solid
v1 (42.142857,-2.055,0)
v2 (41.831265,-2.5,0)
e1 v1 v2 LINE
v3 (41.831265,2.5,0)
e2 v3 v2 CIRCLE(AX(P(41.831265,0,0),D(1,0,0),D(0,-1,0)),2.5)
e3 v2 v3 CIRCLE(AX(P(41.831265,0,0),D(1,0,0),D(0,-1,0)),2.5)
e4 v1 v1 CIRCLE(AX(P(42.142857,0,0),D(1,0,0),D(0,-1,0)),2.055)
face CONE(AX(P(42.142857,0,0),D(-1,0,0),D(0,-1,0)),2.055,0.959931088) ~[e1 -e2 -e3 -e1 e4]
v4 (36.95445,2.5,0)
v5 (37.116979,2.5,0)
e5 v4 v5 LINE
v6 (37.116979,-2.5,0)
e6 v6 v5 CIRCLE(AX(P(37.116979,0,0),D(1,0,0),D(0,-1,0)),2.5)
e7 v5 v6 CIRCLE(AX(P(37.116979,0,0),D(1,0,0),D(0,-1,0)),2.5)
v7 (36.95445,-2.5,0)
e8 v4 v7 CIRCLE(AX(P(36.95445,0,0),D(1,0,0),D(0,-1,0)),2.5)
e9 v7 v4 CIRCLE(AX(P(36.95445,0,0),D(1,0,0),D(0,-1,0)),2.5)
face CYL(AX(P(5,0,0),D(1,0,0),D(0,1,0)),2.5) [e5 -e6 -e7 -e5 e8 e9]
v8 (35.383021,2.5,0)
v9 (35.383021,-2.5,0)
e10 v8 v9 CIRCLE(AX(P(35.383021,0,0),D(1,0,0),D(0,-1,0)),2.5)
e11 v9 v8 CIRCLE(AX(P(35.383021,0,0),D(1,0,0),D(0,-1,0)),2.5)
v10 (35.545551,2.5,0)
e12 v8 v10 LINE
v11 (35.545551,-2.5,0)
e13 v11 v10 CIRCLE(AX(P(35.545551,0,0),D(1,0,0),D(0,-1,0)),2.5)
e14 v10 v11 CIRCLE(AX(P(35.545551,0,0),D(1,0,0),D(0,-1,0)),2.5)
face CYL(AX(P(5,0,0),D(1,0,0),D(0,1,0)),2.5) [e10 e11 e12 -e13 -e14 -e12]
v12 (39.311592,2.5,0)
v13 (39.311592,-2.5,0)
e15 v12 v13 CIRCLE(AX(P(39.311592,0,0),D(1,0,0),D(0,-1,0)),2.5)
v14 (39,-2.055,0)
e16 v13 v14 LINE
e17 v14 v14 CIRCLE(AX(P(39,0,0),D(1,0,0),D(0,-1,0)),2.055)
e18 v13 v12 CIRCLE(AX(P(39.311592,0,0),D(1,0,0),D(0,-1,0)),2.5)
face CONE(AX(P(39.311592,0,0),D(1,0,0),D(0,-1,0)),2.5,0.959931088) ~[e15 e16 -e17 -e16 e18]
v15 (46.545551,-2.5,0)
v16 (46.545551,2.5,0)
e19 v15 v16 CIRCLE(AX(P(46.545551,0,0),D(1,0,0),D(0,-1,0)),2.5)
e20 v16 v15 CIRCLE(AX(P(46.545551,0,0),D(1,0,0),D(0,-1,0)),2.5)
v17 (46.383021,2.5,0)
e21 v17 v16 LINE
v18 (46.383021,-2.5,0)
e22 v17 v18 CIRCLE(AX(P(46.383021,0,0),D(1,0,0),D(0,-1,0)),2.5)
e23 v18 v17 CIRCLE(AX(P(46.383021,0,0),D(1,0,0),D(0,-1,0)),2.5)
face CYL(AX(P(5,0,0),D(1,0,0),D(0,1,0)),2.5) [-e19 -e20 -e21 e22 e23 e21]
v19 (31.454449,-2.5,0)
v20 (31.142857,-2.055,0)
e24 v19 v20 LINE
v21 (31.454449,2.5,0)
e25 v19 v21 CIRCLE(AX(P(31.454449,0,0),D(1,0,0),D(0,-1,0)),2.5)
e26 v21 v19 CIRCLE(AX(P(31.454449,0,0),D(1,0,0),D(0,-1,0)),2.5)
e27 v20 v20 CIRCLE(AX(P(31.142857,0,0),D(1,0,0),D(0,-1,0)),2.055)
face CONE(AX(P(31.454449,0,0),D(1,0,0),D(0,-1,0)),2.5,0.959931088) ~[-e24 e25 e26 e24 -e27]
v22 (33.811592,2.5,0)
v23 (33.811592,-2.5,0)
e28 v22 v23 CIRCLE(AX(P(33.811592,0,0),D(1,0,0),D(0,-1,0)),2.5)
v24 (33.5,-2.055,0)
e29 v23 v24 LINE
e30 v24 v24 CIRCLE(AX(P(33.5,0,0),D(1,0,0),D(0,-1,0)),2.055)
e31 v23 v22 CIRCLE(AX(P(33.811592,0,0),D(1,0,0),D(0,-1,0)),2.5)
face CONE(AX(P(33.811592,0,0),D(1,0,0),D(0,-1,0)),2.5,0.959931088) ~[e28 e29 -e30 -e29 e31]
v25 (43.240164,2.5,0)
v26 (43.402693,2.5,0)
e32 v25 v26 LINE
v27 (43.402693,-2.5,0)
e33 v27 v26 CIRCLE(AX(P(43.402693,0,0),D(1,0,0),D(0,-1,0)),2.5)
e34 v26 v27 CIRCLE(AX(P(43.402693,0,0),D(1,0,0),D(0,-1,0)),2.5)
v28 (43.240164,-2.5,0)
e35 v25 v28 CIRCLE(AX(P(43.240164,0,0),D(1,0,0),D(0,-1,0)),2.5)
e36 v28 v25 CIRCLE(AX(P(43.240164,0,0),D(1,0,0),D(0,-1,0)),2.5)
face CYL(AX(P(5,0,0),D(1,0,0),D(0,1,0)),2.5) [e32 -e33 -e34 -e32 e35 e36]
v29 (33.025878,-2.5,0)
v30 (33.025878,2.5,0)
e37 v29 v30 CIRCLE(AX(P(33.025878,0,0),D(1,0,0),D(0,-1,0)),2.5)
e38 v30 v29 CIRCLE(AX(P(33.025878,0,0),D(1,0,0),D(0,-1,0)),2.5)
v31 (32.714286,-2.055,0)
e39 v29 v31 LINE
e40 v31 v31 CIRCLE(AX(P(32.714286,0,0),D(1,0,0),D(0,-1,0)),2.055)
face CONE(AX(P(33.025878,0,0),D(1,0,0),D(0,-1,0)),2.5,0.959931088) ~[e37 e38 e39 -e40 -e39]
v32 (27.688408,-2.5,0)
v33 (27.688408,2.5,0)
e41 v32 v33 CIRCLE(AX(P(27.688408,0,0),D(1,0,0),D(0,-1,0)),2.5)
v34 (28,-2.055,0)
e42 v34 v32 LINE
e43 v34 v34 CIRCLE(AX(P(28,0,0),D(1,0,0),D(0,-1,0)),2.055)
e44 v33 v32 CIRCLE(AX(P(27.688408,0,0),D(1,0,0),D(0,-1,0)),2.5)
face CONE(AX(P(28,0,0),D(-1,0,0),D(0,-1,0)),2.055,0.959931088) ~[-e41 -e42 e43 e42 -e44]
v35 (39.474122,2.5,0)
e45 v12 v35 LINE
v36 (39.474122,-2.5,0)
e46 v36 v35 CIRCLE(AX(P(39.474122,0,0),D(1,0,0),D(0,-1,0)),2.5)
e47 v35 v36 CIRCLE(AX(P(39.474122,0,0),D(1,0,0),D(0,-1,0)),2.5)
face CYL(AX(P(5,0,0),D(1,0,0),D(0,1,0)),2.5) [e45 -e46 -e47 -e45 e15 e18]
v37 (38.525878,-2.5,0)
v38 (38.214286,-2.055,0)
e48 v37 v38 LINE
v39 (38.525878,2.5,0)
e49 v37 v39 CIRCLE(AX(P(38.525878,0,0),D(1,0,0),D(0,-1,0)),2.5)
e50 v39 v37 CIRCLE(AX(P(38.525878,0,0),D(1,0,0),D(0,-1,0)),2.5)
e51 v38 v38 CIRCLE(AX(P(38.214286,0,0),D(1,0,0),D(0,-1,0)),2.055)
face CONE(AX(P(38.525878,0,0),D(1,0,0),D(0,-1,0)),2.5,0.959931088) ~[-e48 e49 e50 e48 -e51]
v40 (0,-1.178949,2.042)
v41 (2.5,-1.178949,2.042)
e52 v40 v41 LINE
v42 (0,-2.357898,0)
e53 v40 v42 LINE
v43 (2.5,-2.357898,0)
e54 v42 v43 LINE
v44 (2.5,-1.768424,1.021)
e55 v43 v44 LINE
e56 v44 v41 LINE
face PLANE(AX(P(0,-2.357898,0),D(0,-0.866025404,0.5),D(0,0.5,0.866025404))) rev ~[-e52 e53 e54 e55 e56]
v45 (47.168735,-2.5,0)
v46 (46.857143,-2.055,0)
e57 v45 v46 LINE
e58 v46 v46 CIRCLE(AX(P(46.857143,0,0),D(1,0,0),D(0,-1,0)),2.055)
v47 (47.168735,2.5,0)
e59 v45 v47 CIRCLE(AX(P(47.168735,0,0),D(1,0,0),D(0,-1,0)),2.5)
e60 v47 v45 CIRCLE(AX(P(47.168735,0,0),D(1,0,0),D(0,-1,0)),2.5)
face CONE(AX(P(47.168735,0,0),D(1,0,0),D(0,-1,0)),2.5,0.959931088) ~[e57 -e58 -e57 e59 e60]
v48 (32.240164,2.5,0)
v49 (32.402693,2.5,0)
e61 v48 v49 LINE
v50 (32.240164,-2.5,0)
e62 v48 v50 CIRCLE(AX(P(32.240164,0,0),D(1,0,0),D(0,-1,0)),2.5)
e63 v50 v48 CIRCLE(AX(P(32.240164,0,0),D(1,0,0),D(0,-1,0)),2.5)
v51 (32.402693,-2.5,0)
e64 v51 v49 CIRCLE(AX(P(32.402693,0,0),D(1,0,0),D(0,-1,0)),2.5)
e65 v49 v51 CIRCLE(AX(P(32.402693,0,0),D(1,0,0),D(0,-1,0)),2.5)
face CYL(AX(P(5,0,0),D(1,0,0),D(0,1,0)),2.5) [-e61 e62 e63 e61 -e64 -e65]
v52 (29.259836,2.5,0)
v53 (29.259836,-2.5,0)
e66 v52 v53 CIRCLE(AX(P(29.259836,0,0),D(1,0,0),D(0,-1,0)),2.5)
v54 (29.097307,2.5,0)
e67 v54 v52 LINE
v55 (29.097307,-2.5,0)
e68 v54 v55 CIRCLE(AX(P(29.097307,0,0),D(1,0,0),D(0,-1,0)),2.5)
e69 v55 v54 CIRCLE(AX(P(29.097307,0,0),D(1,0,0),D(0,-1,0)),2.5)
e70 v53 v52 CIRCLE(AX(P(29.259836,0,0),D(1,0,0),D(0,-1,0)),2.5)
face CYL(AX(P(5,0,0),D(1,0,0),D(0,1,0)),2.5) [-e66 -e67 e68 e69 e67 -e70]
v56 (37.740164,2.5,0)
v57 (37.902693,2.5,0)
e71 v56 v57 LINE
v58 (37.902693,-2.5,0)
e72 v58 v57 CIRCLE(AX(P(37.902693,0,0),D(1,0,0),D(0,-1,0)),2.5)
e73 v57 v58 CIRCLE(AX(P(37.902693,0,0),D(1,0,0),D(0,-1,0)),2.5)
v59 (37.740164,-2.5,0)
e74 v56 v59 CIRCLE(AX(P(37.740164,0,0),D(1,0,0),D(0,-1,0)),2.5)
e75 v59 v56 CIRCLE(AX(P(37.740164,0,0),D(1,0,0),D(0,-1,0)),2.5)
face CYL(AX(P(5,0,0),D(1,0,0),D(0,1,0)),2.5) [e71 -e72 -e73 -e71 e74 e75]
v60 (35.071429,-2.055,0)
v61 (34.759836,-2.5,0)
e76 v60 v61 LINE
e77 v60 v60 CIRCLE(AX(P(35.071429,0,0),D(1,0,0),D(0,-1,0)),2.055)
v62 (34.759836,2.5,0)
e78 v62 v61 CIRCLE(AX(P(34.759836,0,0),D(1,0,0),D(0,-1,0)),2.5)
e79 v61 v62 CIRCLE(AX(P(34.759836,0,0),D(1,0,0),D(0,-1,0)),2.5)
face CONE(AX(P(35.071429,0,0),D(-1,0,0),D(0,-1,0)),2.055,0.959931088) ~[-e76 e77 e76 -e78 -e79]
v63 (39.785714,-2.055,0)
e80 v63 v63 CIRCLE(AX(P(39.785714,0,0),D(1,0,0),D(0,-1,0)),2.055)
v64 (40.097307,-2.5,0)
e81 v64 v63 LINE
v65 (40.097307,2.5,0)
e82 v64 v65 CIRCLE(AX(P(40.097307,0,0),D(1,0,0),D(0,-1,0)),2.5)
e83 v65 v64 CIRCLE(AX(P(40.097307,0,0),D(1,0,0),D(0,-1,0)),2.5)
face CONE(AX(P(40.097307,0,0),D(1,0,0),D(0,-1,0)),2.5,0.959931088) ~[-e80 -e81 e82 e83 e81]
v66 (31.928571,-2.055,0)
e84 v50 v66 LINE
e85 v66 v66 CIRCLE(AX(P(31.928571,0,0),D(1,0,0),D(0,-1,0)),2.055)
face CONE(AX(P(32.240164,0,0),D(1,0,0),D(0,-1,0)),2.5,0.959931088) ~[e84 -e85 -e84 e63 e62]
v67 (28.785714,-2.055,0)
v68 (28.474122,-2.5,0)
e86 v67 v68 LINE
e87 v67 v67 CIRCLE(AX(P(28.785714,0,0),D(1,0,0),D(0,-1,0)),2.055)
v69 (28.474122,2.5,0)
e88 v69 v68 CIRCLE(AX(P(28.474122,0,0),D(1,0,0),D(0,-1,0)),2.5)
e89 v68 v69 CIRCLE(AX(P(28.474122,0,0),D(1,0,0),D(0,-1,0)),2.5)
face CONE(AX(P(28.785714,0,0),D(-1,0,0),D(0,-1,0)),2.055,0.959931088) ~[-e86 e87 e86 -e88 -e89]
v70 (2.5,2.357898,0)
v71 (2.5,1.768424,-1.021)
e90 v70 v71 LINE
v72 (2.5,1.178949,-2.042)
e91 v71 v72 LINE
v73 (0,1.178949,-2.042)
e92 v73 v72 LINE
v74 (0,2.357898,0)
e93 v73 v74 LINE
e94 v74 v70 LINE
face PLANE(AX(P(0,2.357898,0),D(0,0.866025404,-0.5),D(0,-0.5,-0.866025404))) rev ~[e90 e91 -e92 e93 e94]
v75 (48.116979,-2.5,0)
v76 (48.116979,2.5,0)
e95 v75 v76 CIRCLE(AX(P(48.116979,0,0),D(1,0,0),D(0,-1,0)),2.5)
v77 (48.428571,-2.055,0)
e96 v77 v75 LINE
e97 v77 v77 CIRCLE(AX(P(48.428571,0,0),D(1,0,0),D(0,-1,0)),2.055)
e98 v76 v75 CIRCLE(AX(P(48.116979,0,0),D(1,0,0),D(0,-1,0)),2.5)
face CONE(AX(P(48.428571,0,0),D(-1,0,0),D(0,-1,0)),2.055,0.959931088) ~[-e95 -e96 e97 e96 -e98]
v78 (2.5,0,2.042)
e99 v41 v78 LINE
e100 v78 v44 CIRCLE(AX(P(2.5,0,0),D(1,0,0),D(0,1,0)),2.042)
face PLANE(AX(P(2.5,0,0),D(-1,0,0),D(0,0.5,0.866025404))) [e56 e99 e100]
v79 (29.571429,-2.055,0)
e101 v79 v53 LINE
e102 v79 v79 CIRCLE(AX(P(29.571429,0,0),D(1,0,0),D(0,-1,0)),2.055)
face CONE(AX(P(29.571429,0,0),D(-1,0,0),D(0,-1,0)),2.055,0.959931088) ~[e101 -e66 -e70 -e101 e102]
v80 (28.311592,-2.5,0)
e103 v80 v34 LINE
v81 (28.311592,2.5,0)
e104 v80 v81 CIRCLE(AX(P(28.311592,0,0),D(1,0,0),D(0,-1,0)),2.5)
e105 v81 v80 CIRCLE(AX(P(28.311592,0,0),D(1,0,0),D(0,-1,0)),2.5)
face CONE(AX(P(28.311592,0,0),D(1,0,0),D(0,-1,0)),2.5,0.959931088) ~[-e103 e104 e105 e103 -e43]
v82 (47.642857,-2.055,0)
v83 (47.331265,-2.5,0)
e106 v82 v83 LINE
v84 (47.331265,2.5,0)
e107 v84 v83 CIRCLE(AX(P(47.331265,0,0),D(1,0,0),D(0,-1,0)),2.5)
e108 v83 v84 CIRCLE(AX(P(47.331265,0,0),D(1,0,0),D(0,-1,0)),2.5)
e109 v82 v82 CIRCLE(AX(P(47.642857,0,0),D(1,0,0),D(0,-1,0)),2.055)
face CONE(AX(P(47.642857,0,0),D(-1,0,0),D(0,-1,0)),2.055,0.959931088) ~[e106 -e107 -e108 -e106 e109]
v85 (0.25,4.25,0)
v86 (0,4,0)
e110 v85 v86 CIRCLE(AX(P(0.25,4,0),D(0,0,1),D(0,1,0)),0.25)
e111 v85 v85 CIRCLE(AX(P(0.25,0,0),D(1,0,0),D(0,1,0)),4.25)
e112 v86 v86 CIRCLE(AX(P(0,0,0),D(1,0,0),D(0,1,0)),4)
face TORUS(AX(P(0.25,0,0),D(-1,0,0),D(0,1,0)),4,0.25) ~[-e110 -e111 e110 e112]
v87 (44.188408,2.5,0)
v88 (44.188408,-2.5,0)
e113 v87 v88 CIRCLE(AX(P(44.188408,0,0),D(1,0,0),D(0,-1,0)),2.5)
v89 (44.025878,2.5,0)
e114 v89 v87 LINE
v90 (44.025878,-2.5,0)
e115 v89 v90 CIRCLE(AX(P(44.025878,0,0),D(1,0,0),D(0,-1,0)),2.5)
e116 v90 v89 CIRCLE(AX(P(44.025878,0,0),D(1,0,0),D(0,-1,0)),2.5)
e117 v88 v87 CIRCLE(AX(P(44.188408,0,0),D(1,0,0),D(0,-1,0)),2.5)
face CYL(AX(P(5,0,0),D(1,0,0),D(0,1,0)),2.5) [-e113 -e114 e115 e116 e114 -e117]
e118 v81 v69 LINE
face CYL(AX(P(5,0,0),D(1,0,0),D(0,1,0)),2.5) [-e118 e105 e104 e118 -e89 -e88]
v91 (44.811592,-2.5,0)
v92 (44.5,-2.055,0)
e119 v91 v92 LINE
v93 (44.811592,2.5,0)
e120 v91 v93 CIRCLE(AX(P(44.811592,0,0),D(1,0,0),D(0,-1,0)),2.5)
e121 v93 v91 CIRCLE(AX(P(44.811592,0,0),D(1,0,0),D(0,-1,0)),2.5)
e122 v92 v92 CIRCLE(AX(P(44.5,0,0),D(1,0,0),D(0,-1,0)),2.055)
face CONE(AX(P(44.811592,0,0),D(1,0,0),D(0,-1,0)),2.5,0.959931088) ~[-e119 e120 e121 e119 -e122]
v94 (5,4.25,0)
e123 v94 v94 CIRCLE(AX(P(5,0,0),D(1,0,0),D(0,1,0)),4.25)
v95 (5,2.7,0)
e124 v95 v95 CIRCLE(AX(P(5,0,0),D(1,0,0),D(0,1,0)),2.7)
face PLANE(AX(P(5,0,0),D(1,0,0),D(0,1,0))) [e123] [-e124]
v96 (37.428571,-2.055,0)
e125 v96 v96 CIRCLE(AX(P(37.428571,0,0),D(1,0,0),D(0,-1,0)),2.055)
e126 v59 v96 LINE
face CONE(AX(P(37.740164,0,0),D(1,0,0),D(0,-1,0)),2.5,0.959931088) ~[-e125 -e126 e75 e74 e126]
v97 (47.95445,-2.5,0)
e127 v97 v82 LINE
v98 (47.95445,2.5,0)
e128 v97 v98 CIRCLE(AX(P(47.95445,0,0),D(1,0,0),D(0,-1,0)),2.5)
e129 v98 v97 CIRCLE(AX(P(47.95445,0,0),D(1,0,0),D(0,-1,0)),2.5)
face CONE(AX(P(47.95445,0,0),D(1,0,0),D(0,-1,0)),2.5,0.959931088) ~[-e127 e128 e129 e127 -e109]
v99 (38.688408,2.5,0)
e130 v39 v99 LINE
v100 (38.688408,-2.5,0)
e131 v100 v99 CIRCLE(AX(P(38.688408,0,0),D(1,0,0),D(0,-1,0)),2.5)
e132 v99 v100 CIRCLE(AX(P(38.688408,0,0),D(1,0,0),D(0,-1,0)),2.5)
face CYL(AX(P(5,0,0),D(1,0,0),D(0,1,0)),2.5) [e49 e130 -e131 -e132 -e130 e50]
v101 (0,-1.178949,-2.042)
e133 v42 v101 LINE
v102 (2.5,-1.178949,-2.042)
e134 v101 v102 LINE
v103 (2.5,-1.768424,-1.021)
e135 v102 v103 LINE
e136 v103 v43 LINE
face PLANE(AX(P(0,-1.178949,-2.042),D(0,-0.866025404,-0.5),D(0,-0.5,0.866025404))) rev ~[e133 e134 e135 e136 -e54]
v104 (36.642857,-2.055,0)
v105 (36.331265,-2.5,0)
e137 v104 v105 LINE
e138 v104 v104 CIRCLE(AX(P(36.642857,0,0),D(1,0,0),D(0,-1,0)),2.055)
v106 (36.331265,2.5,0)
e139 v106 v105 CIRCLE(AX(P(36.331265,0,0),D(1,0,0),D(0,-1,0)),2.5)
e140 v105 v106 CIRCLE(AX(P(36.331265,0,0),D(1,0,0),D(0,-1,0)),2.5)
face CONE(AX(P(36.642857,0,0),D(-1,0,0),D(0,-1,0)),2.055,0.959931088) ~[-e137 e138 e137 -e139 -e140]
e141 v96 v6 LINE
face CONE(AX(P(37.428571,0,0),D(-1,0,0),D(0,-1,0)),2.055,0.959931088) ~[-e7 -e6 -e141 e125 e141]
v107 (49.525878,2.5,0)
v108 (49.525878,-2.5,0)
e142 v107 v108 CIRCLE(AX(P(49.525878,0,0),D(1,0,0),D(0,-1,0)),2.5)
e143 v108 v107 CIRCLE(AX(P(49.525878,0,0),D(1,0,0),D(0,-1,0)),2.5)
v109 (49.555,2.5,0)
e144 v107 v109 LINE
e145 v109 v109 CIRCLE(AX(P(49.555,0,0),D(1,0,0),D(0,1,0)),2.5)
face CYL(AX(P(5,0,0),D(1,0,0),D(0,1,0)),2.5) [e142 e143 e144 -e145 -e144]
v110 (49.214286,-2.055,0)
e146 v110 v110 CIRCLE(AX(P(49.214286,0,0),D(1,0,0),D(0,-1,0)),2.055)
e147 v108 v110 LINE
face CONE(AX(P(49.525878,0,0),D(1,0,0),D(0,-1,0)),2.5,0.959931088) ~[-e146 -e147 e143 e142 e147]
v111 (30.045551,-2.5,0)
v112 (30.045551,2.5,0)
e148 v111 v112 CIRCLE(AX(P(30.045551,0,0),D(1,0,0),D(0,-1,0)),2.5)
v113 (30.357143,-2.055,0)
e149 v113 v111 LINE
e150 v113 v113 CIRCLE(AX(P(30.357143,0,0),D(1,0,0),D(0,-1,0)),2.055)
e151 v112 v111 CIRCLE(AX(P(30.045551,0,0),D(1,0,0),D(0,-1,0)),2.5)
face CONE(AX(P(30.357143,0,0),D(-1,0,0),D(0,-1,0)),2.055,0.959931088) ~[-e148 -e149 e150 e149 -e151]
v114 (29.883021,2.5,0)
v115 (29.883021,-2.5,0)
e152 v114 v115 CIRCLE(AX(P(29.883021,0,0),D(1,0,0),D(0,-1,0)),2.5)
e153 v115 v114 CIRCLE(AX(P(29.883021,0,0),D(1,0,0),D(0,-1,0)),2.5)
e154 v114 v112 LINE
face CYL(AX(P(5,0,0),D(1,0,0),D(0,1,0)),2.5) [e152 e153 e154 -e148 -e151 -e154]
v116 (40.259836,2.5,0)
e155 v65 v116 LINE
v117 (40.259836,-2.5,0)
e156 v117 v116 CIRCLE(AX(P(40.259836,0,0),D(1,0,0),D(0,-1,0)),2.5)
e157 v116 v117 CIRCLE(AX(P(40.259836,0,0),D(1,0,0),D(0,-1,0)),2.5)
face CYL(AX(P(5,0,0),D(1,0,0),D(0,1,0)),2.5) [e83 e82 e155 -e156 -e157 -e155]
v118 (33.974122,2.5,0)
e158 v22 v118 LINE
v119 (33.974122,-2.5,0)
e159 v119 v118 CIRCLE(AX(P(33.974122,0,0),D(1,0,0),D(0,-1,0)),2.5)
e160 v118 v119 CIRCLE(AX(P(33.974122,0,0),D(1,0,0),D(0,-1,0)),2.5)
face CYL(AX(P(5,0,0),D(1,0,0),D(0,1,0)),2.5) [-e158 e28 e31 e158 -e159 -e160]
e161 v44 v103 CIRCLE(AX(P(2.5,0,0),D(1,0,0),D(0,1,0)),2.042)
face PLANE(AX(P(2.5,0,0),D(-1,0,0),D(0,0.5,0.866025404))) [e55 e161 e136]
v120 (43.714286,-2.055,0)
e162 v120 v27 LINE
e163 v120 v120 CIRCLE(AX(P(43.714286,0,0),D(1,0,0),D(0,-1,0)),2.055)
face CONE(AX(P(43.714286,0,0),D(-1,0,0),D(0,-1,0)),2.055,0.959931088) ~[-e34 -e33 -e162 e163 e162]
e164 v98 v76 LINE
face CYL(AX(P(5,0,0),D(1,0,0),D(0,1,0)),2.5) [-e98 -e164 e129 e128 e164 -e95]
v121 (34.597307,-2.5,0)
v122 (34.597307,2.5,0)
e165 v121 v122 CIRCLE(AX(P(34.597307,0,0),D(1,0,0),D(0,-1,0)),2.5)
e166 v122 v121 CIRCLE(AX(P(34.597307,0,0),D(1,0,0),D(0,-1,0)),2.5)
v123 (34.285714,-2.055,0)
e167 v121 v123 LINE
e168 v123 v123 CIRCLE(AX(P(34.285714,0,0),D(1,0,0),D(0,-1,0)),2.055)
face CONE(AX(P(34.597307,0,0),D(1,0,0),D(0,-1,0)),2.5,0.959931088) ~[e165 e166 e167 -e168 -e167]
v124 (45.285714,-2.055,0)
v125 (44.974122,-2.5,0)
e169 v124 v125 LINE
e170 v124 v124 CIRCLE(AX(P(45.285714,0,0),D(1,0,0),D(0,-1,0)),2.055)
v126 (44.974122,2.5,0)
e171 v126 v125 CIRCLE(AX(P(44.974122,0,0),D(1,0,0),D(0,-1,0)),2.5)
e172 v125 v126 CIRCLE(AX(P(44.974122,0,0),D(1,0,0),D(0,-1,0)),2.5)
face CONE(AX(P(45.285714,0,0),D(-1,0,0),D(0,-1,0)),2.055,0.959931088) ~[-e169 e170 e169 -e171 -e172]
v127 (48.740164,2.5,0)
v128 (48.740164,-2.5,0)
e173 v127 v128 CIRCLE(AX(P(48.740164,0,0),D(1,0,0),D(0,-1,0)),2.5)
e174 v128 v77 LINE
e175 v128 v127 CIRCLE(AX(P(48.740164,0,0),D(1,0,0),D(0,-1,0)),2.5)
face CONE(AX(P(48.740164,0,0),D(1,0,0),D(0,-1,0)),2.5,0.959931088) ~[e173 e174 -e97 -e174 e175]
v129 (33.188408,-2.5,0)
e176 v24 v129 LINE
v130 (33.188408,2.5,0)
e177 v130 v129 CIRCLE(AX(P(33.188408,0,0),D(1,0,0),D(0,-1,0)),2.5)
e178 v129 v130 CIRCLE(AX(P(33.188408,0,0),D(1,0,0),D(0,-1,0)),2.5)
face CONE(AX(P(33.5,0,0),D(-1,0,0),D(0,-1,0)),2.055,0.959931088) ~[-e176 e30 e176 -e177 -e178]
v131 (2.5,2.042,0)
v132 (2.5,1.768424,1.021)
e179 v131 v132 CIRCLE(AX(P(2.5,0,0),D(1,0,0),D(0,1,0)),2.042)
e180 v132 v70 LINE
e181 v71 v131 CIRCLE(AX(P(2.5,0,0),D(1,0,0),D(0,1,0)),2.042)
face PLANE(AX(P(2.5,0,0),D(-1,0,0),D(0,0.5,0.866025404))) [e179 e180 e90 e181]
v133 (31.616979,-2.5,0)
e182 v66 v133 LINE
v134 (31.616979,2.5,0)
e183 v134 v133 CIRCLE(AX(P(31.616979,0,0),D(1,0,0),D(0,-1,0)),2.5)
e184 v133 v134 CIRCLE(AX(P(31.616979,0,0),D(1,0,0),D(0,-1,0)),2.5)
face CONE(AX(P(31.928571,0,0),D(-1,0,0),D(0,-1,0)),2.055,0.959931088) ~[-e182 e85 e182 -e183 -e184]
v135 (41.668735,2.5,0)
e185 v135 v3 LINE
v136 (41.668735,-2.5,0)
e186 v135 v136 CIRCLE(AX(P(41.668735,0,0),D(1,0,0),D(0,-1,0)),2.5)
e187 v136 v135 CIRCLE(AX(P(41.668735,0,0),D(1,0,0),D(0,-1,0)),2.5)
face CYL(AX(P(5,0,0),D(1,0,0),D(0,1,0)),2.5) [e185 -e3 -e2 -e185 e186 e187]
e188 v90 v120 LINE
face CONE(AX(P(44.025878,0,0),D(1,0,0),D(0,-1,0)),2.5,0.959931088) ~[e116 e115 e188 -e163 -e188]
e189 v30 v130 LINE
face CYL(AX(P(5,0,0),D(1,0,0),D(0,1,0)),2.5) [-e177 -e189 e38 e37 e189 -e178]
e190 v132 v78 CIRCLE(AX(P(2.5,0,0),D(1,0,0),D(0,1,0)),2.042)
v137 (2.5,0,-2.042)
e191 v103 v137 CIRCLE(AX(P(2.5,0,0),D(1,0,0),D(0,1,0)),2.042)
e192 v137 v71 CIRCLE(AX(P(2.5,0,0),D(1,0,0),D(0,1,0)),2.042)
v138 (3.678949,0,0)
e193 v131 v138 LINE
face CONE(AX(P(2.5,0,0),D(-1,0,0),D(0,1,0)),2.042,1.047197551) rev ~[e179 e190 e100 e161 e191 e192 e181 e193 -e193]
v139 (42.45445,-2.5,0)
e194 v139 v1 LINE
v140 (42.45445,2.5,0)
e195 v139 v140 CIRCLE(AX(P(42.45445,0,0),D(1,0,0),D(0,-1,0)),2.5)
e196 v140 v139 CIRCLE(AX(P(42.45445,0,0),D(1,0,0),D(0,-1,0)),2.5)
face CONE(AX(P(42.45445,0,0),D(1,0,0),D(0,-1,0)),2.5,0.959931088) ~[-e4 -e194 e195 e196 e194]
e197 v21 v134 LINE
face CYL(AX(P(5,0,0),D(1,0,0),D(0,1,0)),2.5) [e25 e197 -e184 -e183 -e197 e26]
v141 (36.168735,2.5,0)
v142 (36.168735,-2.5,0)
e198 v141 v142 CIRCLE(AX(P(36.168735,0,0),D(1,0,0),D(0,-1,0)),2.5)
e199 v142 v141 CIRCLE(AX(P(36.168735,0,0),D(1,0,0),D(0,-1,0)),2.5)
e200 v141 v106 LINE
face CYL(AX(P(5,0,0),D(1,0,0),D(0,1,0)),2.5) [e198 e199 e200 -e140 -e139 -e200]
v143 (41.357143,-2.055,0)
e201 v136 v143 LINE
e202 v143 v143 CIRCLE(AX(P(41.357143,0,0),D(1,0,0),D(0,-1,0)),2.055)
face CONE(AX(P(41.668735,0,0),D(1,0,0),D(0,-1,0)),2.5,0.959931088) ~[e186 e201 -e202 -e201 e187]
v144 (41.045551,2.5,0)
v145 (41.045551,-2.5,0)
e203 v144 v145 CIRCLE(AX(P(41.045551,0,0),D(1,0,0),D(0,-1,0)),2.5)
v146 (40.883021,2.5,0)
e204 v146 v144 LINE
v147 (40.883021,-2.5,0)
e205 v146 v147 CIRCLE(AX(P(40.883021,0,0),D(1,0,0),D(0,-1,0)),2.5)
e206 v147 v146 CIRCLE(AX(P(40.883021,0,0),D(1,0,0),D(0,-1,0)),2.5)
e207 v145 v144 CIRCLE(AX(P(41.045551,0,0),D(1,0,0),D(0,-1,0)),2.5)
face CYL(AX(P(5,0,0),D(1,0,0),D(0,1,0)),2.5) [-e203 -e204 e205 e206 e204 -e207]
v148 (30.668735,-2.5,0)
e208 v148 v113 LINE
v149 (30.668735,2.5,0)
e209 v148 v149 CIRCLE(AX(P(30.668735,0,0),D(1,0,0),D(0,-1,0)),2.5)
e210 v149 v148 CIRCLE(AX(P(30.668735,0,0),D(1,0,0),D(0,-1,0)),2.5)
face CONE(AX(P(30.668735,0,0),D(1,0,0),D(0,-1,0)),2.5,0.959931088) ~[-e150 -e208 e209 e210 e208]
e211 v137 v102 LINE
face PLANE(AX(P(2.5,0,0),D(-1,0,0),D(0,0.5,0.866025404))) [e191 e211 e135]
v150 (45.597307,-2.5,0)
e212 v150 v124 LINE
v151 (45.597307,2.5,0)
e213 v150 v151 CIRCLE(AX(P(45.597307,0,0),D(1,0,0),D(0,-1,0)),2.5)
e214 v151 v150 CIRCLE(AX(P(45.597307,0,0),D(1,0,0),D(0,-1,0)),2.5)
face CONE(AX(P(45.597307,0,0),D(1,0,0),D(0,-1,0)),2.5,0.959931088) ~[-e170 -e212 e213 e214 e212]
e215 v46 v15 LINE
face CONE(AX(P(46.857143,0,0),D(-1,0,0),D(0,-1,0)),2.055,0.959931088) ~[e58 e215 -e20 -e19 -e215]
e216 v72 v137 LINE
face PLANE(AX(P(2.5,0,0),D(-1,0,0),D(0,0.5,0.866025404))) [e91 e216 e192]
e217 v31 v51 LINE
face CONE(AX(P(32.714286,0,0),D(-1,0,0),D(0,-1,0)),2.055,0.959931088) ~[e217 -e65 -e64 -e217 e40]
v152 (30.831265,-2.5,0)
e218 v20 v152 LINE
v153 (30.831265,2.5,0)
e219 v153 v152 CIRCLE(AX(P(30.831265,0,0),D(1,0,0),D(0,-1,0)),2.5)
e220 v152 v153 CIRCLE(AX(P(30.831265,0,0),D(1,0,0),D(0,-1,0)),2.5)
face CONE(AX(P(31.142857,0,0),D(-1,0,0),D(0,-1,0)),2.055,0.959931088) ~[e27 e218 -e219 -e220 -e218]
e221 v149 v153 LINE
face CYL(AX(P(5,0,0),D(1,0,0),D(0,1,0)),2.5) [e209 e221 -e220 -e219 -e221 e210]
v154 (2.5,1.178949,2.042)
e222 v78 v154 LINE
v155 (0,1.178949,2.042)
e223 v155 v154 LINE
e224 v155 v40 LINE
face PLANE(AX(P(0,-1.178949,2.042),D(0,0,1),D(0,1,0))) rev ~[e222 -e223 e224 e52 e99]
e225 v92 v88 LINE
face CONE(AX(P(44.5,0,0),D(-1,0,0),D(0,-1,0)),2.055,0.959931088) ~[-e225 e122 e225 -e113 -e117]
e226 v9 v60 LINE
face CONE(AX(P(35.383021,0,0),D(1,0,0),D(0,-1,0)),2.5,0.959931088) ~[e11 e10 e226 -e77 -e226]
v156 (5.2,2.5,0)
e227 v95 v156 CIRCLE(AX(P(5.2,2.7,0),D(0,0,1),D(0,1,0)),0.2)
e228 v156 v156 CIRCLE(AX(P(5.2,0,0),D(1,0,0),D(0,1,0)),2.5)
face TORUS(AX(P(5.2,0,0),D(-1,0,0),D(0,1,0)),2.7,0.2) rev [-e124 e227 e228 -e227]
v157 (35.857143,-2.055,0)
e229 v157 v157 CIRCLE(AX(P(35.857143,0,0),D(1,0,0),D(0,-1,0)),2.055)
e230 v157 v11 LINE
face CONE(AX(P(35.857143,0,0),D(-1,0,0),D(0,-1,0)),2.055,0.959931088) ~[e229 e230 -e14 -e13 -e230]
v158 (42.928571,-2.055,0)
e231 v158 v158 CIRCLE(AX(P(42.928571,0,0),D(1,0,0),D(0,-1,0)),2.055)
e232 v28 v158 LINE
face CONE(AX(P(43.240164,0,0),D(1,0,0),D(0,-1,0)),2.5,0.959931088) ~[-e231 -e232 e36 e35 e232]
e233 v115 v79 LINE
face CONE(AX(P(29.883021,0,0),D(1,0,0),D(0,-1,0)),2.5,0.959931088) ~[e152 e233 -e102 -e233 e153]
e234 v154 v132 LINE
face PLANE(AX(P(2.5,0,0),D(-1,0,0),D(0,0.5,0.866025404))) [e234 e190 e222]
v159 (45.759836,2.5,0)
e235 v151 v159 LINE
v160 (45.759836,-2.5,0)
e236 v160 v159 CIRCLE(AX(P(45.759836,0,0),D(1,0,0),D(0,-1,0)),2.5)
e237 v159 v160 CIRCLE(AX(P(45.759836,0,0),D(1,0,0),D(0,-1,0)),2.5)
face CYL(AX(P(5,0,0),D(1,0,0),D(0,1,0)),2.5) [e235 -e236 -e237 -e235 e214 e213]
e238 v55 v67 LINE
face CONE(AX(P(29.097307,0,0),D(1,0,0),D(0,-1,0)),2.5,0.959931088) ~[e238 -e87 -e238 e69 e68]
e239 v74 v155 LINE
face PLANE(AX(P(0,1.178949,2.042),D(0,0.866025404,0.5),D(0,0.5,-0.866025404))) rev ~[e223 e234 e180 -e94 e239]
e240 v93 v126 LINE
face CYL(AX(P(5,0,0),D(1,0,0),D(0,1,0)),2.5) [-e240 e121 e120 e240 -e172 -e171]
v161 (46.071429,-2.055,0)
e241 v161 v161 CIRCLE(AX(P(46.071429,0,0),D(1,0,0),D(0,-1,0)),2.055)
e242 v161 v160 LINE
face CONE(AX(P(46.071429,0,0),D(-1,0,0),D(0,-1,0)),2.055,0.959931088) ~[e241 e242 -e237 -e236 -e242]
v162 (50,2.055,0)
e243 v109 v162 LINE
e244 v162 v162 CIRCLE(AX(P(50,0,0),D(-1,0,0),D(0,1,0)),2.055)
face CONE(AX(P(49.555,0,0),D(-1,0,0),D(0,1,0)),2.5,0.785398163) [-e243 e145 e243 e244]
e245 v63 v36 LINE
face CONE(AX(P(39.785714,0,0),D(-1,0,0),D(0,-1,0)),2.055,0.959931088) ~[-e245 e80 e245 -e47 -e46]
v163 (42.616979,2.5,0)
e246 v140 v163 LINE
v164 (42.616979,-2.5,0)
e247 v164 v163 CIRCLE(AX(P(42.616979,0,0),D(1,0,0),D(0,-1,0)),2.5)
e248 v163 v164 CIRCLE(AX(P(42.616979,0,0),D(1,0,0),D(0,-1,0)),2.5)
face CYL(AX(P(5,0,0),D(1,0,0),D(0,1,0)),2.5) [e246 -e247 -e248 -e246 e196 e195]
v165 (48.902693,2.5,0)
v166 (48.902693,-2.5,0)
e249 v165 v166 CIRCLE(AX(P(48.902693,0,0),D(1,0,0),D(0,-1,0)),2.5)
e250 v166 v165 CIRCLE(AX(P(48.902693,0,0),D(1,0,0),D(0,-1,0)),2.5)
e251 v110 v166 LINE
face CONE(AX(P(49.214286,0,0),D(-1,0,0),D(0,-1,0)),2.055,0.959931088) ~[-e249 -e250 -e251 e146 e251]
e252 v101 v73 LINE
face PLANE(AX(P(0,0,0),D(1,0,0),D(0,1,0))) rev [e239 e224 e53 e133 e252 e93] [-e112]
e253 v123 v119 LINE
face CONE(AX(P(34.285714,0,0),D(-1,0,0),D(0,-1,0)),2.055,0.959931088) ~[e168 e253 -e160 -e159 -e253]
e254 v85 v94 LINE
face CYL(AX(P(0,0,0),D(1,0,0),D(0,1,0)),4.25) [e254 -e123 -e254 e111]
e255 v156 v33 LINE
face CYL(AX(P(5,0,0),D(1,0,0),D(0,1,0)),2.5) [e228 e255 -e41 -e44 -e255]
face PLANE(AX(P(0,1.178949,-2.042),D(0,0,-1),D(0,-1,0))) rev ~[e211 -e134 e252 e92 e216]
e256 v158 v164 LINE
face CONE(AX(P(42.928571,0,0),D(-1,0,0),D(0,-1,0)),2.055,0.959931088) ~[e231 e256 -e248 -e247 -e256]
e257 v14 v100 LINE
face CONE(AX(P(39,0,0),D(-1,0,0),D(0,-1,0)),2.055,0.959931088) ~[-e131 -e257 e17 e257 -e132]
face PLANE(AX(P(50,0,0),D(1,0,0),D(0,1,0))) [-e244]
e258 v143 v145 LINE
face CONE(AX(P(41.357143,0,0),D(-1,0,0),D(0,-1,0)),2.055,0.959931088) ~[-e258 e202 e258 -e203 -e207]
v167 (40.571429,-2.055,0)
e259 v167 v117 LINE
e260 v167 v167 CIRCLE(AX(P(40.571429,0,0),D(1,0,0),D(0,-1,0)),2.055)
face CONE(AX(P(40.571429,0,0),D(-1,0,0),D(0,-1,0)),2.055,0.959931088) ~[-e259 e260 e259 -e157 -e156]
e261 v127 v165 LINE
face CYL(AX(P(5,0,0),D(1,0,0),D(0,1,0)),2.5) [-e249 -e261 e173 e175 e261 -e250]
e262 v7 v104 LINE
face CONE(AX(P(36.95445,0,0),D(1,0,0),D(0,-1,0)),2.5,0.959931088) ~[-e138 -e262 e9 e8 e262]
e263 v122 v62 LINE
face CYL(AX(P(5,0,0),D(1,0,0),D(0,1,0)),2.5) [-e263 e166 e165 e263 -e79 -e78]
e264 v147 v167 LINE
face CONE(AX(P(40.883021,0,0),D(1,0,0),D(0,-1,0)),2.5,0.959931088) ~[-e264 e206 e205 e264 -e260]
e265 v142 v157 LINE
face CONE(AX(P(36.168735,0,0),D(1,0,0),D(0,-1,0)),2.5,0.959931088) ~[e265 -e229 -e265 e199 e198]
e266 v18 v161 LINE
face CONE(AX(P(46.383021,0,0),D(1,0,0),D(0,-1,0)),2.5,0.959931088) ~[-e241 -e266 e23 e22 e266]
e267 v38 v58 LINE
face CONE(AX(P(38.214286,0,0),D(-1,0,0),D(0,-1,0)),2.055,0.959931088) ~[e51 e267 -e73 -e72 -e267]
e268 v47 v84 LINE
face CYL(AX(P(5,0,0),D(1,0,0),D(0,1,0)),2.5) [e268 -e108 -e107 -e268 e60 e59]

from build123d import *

# Parameters (mm, degrees)
FILLET1_R       = 0.2
FILLET2_R       = 0.25
HEX_2_DEPTH     = 2.5
THDSCHPAT_COUNT = 29
THDSCHPAT_PITCH = 0.785714286


with BuildPart() as part:
    # BodySke → Base-Revolve (revolve)
    with BuildSketch(Plane.XY):
        Polygon((0, 0), (0, 4.25), (5, 4.25), (5, 2.5), (49.555, 2.5), (50, 2.055), (50, 0), align=None)
    revolve(axis=Axis((-31.75, 0, 0), (1, 0, 0)))

    # Fillet1
    fillet1_edges = [part.edges().sort_by_distance(p)[0] for p in [
        (5, -2.5, 0),
    ]]
    fillet(fillet1_edges, radius=FILLET1_R)

    # Fillet2
    fillet2_edges = [part.edges().sort_by_distance(p)[0] for p in [
        (0, -4.25, 0),
    ]]
    fillet(fillet2_edges, radius=FILLET2_R)

    # Sketch2 → Hex-PreBroach (revolve, cut)
    with BuildSketch(Plane.XY):
        Polygon((0, 2.042), (2.5, 2.042), (3.67894925, 0), (0, 0), align=None)
    revolve(axis=Axis((0, 0, 0), (1, 0, 0)), mode=Mode.SUBTRACT)

    # Sketch3 → Hex 2 (cut)
    with BuildSketch(Plane(origin=(0, 0, 0), x_dir=(0, 0.5, 0.866025404), z_dir=(-1, 0, 0))):
        Polygon((1.17894925, 2.042), (-1.17894925, 2.042), (-2.357898499, 0), (-1.17894925, -2.042), (1.17894925, -2.042), (2.357898499, 0), align=None)
    extrude(amount=-HEX_2_DEPTH, mode=Mode.SUBTRACT)

    # ThdSchSke → ThreadSchematic (revolve, cut)
    with BuildSketch(Plane.XY):
        Polygon((28, -2.055), (27.688407645, -2.5), (27.688407645, -3.125), (28.311592355, -3.125), (28.311592355, -2.5), align=None)
    threadschematic = revolve(axis=Axis((-3.175, 0, 0), (1, 0, 0)), mode=Mode.SUBTRACT)

    # ThdSchPat: ThreadSchematic ×29
    with Locations(*[(i * THDSCHPAT_PITCH, 0, 0) for i in range(1, THDSCHPAT_COUNT)]):
        add(threadschematic, mode=Mode.SUBTRACT)


solid = part.part
